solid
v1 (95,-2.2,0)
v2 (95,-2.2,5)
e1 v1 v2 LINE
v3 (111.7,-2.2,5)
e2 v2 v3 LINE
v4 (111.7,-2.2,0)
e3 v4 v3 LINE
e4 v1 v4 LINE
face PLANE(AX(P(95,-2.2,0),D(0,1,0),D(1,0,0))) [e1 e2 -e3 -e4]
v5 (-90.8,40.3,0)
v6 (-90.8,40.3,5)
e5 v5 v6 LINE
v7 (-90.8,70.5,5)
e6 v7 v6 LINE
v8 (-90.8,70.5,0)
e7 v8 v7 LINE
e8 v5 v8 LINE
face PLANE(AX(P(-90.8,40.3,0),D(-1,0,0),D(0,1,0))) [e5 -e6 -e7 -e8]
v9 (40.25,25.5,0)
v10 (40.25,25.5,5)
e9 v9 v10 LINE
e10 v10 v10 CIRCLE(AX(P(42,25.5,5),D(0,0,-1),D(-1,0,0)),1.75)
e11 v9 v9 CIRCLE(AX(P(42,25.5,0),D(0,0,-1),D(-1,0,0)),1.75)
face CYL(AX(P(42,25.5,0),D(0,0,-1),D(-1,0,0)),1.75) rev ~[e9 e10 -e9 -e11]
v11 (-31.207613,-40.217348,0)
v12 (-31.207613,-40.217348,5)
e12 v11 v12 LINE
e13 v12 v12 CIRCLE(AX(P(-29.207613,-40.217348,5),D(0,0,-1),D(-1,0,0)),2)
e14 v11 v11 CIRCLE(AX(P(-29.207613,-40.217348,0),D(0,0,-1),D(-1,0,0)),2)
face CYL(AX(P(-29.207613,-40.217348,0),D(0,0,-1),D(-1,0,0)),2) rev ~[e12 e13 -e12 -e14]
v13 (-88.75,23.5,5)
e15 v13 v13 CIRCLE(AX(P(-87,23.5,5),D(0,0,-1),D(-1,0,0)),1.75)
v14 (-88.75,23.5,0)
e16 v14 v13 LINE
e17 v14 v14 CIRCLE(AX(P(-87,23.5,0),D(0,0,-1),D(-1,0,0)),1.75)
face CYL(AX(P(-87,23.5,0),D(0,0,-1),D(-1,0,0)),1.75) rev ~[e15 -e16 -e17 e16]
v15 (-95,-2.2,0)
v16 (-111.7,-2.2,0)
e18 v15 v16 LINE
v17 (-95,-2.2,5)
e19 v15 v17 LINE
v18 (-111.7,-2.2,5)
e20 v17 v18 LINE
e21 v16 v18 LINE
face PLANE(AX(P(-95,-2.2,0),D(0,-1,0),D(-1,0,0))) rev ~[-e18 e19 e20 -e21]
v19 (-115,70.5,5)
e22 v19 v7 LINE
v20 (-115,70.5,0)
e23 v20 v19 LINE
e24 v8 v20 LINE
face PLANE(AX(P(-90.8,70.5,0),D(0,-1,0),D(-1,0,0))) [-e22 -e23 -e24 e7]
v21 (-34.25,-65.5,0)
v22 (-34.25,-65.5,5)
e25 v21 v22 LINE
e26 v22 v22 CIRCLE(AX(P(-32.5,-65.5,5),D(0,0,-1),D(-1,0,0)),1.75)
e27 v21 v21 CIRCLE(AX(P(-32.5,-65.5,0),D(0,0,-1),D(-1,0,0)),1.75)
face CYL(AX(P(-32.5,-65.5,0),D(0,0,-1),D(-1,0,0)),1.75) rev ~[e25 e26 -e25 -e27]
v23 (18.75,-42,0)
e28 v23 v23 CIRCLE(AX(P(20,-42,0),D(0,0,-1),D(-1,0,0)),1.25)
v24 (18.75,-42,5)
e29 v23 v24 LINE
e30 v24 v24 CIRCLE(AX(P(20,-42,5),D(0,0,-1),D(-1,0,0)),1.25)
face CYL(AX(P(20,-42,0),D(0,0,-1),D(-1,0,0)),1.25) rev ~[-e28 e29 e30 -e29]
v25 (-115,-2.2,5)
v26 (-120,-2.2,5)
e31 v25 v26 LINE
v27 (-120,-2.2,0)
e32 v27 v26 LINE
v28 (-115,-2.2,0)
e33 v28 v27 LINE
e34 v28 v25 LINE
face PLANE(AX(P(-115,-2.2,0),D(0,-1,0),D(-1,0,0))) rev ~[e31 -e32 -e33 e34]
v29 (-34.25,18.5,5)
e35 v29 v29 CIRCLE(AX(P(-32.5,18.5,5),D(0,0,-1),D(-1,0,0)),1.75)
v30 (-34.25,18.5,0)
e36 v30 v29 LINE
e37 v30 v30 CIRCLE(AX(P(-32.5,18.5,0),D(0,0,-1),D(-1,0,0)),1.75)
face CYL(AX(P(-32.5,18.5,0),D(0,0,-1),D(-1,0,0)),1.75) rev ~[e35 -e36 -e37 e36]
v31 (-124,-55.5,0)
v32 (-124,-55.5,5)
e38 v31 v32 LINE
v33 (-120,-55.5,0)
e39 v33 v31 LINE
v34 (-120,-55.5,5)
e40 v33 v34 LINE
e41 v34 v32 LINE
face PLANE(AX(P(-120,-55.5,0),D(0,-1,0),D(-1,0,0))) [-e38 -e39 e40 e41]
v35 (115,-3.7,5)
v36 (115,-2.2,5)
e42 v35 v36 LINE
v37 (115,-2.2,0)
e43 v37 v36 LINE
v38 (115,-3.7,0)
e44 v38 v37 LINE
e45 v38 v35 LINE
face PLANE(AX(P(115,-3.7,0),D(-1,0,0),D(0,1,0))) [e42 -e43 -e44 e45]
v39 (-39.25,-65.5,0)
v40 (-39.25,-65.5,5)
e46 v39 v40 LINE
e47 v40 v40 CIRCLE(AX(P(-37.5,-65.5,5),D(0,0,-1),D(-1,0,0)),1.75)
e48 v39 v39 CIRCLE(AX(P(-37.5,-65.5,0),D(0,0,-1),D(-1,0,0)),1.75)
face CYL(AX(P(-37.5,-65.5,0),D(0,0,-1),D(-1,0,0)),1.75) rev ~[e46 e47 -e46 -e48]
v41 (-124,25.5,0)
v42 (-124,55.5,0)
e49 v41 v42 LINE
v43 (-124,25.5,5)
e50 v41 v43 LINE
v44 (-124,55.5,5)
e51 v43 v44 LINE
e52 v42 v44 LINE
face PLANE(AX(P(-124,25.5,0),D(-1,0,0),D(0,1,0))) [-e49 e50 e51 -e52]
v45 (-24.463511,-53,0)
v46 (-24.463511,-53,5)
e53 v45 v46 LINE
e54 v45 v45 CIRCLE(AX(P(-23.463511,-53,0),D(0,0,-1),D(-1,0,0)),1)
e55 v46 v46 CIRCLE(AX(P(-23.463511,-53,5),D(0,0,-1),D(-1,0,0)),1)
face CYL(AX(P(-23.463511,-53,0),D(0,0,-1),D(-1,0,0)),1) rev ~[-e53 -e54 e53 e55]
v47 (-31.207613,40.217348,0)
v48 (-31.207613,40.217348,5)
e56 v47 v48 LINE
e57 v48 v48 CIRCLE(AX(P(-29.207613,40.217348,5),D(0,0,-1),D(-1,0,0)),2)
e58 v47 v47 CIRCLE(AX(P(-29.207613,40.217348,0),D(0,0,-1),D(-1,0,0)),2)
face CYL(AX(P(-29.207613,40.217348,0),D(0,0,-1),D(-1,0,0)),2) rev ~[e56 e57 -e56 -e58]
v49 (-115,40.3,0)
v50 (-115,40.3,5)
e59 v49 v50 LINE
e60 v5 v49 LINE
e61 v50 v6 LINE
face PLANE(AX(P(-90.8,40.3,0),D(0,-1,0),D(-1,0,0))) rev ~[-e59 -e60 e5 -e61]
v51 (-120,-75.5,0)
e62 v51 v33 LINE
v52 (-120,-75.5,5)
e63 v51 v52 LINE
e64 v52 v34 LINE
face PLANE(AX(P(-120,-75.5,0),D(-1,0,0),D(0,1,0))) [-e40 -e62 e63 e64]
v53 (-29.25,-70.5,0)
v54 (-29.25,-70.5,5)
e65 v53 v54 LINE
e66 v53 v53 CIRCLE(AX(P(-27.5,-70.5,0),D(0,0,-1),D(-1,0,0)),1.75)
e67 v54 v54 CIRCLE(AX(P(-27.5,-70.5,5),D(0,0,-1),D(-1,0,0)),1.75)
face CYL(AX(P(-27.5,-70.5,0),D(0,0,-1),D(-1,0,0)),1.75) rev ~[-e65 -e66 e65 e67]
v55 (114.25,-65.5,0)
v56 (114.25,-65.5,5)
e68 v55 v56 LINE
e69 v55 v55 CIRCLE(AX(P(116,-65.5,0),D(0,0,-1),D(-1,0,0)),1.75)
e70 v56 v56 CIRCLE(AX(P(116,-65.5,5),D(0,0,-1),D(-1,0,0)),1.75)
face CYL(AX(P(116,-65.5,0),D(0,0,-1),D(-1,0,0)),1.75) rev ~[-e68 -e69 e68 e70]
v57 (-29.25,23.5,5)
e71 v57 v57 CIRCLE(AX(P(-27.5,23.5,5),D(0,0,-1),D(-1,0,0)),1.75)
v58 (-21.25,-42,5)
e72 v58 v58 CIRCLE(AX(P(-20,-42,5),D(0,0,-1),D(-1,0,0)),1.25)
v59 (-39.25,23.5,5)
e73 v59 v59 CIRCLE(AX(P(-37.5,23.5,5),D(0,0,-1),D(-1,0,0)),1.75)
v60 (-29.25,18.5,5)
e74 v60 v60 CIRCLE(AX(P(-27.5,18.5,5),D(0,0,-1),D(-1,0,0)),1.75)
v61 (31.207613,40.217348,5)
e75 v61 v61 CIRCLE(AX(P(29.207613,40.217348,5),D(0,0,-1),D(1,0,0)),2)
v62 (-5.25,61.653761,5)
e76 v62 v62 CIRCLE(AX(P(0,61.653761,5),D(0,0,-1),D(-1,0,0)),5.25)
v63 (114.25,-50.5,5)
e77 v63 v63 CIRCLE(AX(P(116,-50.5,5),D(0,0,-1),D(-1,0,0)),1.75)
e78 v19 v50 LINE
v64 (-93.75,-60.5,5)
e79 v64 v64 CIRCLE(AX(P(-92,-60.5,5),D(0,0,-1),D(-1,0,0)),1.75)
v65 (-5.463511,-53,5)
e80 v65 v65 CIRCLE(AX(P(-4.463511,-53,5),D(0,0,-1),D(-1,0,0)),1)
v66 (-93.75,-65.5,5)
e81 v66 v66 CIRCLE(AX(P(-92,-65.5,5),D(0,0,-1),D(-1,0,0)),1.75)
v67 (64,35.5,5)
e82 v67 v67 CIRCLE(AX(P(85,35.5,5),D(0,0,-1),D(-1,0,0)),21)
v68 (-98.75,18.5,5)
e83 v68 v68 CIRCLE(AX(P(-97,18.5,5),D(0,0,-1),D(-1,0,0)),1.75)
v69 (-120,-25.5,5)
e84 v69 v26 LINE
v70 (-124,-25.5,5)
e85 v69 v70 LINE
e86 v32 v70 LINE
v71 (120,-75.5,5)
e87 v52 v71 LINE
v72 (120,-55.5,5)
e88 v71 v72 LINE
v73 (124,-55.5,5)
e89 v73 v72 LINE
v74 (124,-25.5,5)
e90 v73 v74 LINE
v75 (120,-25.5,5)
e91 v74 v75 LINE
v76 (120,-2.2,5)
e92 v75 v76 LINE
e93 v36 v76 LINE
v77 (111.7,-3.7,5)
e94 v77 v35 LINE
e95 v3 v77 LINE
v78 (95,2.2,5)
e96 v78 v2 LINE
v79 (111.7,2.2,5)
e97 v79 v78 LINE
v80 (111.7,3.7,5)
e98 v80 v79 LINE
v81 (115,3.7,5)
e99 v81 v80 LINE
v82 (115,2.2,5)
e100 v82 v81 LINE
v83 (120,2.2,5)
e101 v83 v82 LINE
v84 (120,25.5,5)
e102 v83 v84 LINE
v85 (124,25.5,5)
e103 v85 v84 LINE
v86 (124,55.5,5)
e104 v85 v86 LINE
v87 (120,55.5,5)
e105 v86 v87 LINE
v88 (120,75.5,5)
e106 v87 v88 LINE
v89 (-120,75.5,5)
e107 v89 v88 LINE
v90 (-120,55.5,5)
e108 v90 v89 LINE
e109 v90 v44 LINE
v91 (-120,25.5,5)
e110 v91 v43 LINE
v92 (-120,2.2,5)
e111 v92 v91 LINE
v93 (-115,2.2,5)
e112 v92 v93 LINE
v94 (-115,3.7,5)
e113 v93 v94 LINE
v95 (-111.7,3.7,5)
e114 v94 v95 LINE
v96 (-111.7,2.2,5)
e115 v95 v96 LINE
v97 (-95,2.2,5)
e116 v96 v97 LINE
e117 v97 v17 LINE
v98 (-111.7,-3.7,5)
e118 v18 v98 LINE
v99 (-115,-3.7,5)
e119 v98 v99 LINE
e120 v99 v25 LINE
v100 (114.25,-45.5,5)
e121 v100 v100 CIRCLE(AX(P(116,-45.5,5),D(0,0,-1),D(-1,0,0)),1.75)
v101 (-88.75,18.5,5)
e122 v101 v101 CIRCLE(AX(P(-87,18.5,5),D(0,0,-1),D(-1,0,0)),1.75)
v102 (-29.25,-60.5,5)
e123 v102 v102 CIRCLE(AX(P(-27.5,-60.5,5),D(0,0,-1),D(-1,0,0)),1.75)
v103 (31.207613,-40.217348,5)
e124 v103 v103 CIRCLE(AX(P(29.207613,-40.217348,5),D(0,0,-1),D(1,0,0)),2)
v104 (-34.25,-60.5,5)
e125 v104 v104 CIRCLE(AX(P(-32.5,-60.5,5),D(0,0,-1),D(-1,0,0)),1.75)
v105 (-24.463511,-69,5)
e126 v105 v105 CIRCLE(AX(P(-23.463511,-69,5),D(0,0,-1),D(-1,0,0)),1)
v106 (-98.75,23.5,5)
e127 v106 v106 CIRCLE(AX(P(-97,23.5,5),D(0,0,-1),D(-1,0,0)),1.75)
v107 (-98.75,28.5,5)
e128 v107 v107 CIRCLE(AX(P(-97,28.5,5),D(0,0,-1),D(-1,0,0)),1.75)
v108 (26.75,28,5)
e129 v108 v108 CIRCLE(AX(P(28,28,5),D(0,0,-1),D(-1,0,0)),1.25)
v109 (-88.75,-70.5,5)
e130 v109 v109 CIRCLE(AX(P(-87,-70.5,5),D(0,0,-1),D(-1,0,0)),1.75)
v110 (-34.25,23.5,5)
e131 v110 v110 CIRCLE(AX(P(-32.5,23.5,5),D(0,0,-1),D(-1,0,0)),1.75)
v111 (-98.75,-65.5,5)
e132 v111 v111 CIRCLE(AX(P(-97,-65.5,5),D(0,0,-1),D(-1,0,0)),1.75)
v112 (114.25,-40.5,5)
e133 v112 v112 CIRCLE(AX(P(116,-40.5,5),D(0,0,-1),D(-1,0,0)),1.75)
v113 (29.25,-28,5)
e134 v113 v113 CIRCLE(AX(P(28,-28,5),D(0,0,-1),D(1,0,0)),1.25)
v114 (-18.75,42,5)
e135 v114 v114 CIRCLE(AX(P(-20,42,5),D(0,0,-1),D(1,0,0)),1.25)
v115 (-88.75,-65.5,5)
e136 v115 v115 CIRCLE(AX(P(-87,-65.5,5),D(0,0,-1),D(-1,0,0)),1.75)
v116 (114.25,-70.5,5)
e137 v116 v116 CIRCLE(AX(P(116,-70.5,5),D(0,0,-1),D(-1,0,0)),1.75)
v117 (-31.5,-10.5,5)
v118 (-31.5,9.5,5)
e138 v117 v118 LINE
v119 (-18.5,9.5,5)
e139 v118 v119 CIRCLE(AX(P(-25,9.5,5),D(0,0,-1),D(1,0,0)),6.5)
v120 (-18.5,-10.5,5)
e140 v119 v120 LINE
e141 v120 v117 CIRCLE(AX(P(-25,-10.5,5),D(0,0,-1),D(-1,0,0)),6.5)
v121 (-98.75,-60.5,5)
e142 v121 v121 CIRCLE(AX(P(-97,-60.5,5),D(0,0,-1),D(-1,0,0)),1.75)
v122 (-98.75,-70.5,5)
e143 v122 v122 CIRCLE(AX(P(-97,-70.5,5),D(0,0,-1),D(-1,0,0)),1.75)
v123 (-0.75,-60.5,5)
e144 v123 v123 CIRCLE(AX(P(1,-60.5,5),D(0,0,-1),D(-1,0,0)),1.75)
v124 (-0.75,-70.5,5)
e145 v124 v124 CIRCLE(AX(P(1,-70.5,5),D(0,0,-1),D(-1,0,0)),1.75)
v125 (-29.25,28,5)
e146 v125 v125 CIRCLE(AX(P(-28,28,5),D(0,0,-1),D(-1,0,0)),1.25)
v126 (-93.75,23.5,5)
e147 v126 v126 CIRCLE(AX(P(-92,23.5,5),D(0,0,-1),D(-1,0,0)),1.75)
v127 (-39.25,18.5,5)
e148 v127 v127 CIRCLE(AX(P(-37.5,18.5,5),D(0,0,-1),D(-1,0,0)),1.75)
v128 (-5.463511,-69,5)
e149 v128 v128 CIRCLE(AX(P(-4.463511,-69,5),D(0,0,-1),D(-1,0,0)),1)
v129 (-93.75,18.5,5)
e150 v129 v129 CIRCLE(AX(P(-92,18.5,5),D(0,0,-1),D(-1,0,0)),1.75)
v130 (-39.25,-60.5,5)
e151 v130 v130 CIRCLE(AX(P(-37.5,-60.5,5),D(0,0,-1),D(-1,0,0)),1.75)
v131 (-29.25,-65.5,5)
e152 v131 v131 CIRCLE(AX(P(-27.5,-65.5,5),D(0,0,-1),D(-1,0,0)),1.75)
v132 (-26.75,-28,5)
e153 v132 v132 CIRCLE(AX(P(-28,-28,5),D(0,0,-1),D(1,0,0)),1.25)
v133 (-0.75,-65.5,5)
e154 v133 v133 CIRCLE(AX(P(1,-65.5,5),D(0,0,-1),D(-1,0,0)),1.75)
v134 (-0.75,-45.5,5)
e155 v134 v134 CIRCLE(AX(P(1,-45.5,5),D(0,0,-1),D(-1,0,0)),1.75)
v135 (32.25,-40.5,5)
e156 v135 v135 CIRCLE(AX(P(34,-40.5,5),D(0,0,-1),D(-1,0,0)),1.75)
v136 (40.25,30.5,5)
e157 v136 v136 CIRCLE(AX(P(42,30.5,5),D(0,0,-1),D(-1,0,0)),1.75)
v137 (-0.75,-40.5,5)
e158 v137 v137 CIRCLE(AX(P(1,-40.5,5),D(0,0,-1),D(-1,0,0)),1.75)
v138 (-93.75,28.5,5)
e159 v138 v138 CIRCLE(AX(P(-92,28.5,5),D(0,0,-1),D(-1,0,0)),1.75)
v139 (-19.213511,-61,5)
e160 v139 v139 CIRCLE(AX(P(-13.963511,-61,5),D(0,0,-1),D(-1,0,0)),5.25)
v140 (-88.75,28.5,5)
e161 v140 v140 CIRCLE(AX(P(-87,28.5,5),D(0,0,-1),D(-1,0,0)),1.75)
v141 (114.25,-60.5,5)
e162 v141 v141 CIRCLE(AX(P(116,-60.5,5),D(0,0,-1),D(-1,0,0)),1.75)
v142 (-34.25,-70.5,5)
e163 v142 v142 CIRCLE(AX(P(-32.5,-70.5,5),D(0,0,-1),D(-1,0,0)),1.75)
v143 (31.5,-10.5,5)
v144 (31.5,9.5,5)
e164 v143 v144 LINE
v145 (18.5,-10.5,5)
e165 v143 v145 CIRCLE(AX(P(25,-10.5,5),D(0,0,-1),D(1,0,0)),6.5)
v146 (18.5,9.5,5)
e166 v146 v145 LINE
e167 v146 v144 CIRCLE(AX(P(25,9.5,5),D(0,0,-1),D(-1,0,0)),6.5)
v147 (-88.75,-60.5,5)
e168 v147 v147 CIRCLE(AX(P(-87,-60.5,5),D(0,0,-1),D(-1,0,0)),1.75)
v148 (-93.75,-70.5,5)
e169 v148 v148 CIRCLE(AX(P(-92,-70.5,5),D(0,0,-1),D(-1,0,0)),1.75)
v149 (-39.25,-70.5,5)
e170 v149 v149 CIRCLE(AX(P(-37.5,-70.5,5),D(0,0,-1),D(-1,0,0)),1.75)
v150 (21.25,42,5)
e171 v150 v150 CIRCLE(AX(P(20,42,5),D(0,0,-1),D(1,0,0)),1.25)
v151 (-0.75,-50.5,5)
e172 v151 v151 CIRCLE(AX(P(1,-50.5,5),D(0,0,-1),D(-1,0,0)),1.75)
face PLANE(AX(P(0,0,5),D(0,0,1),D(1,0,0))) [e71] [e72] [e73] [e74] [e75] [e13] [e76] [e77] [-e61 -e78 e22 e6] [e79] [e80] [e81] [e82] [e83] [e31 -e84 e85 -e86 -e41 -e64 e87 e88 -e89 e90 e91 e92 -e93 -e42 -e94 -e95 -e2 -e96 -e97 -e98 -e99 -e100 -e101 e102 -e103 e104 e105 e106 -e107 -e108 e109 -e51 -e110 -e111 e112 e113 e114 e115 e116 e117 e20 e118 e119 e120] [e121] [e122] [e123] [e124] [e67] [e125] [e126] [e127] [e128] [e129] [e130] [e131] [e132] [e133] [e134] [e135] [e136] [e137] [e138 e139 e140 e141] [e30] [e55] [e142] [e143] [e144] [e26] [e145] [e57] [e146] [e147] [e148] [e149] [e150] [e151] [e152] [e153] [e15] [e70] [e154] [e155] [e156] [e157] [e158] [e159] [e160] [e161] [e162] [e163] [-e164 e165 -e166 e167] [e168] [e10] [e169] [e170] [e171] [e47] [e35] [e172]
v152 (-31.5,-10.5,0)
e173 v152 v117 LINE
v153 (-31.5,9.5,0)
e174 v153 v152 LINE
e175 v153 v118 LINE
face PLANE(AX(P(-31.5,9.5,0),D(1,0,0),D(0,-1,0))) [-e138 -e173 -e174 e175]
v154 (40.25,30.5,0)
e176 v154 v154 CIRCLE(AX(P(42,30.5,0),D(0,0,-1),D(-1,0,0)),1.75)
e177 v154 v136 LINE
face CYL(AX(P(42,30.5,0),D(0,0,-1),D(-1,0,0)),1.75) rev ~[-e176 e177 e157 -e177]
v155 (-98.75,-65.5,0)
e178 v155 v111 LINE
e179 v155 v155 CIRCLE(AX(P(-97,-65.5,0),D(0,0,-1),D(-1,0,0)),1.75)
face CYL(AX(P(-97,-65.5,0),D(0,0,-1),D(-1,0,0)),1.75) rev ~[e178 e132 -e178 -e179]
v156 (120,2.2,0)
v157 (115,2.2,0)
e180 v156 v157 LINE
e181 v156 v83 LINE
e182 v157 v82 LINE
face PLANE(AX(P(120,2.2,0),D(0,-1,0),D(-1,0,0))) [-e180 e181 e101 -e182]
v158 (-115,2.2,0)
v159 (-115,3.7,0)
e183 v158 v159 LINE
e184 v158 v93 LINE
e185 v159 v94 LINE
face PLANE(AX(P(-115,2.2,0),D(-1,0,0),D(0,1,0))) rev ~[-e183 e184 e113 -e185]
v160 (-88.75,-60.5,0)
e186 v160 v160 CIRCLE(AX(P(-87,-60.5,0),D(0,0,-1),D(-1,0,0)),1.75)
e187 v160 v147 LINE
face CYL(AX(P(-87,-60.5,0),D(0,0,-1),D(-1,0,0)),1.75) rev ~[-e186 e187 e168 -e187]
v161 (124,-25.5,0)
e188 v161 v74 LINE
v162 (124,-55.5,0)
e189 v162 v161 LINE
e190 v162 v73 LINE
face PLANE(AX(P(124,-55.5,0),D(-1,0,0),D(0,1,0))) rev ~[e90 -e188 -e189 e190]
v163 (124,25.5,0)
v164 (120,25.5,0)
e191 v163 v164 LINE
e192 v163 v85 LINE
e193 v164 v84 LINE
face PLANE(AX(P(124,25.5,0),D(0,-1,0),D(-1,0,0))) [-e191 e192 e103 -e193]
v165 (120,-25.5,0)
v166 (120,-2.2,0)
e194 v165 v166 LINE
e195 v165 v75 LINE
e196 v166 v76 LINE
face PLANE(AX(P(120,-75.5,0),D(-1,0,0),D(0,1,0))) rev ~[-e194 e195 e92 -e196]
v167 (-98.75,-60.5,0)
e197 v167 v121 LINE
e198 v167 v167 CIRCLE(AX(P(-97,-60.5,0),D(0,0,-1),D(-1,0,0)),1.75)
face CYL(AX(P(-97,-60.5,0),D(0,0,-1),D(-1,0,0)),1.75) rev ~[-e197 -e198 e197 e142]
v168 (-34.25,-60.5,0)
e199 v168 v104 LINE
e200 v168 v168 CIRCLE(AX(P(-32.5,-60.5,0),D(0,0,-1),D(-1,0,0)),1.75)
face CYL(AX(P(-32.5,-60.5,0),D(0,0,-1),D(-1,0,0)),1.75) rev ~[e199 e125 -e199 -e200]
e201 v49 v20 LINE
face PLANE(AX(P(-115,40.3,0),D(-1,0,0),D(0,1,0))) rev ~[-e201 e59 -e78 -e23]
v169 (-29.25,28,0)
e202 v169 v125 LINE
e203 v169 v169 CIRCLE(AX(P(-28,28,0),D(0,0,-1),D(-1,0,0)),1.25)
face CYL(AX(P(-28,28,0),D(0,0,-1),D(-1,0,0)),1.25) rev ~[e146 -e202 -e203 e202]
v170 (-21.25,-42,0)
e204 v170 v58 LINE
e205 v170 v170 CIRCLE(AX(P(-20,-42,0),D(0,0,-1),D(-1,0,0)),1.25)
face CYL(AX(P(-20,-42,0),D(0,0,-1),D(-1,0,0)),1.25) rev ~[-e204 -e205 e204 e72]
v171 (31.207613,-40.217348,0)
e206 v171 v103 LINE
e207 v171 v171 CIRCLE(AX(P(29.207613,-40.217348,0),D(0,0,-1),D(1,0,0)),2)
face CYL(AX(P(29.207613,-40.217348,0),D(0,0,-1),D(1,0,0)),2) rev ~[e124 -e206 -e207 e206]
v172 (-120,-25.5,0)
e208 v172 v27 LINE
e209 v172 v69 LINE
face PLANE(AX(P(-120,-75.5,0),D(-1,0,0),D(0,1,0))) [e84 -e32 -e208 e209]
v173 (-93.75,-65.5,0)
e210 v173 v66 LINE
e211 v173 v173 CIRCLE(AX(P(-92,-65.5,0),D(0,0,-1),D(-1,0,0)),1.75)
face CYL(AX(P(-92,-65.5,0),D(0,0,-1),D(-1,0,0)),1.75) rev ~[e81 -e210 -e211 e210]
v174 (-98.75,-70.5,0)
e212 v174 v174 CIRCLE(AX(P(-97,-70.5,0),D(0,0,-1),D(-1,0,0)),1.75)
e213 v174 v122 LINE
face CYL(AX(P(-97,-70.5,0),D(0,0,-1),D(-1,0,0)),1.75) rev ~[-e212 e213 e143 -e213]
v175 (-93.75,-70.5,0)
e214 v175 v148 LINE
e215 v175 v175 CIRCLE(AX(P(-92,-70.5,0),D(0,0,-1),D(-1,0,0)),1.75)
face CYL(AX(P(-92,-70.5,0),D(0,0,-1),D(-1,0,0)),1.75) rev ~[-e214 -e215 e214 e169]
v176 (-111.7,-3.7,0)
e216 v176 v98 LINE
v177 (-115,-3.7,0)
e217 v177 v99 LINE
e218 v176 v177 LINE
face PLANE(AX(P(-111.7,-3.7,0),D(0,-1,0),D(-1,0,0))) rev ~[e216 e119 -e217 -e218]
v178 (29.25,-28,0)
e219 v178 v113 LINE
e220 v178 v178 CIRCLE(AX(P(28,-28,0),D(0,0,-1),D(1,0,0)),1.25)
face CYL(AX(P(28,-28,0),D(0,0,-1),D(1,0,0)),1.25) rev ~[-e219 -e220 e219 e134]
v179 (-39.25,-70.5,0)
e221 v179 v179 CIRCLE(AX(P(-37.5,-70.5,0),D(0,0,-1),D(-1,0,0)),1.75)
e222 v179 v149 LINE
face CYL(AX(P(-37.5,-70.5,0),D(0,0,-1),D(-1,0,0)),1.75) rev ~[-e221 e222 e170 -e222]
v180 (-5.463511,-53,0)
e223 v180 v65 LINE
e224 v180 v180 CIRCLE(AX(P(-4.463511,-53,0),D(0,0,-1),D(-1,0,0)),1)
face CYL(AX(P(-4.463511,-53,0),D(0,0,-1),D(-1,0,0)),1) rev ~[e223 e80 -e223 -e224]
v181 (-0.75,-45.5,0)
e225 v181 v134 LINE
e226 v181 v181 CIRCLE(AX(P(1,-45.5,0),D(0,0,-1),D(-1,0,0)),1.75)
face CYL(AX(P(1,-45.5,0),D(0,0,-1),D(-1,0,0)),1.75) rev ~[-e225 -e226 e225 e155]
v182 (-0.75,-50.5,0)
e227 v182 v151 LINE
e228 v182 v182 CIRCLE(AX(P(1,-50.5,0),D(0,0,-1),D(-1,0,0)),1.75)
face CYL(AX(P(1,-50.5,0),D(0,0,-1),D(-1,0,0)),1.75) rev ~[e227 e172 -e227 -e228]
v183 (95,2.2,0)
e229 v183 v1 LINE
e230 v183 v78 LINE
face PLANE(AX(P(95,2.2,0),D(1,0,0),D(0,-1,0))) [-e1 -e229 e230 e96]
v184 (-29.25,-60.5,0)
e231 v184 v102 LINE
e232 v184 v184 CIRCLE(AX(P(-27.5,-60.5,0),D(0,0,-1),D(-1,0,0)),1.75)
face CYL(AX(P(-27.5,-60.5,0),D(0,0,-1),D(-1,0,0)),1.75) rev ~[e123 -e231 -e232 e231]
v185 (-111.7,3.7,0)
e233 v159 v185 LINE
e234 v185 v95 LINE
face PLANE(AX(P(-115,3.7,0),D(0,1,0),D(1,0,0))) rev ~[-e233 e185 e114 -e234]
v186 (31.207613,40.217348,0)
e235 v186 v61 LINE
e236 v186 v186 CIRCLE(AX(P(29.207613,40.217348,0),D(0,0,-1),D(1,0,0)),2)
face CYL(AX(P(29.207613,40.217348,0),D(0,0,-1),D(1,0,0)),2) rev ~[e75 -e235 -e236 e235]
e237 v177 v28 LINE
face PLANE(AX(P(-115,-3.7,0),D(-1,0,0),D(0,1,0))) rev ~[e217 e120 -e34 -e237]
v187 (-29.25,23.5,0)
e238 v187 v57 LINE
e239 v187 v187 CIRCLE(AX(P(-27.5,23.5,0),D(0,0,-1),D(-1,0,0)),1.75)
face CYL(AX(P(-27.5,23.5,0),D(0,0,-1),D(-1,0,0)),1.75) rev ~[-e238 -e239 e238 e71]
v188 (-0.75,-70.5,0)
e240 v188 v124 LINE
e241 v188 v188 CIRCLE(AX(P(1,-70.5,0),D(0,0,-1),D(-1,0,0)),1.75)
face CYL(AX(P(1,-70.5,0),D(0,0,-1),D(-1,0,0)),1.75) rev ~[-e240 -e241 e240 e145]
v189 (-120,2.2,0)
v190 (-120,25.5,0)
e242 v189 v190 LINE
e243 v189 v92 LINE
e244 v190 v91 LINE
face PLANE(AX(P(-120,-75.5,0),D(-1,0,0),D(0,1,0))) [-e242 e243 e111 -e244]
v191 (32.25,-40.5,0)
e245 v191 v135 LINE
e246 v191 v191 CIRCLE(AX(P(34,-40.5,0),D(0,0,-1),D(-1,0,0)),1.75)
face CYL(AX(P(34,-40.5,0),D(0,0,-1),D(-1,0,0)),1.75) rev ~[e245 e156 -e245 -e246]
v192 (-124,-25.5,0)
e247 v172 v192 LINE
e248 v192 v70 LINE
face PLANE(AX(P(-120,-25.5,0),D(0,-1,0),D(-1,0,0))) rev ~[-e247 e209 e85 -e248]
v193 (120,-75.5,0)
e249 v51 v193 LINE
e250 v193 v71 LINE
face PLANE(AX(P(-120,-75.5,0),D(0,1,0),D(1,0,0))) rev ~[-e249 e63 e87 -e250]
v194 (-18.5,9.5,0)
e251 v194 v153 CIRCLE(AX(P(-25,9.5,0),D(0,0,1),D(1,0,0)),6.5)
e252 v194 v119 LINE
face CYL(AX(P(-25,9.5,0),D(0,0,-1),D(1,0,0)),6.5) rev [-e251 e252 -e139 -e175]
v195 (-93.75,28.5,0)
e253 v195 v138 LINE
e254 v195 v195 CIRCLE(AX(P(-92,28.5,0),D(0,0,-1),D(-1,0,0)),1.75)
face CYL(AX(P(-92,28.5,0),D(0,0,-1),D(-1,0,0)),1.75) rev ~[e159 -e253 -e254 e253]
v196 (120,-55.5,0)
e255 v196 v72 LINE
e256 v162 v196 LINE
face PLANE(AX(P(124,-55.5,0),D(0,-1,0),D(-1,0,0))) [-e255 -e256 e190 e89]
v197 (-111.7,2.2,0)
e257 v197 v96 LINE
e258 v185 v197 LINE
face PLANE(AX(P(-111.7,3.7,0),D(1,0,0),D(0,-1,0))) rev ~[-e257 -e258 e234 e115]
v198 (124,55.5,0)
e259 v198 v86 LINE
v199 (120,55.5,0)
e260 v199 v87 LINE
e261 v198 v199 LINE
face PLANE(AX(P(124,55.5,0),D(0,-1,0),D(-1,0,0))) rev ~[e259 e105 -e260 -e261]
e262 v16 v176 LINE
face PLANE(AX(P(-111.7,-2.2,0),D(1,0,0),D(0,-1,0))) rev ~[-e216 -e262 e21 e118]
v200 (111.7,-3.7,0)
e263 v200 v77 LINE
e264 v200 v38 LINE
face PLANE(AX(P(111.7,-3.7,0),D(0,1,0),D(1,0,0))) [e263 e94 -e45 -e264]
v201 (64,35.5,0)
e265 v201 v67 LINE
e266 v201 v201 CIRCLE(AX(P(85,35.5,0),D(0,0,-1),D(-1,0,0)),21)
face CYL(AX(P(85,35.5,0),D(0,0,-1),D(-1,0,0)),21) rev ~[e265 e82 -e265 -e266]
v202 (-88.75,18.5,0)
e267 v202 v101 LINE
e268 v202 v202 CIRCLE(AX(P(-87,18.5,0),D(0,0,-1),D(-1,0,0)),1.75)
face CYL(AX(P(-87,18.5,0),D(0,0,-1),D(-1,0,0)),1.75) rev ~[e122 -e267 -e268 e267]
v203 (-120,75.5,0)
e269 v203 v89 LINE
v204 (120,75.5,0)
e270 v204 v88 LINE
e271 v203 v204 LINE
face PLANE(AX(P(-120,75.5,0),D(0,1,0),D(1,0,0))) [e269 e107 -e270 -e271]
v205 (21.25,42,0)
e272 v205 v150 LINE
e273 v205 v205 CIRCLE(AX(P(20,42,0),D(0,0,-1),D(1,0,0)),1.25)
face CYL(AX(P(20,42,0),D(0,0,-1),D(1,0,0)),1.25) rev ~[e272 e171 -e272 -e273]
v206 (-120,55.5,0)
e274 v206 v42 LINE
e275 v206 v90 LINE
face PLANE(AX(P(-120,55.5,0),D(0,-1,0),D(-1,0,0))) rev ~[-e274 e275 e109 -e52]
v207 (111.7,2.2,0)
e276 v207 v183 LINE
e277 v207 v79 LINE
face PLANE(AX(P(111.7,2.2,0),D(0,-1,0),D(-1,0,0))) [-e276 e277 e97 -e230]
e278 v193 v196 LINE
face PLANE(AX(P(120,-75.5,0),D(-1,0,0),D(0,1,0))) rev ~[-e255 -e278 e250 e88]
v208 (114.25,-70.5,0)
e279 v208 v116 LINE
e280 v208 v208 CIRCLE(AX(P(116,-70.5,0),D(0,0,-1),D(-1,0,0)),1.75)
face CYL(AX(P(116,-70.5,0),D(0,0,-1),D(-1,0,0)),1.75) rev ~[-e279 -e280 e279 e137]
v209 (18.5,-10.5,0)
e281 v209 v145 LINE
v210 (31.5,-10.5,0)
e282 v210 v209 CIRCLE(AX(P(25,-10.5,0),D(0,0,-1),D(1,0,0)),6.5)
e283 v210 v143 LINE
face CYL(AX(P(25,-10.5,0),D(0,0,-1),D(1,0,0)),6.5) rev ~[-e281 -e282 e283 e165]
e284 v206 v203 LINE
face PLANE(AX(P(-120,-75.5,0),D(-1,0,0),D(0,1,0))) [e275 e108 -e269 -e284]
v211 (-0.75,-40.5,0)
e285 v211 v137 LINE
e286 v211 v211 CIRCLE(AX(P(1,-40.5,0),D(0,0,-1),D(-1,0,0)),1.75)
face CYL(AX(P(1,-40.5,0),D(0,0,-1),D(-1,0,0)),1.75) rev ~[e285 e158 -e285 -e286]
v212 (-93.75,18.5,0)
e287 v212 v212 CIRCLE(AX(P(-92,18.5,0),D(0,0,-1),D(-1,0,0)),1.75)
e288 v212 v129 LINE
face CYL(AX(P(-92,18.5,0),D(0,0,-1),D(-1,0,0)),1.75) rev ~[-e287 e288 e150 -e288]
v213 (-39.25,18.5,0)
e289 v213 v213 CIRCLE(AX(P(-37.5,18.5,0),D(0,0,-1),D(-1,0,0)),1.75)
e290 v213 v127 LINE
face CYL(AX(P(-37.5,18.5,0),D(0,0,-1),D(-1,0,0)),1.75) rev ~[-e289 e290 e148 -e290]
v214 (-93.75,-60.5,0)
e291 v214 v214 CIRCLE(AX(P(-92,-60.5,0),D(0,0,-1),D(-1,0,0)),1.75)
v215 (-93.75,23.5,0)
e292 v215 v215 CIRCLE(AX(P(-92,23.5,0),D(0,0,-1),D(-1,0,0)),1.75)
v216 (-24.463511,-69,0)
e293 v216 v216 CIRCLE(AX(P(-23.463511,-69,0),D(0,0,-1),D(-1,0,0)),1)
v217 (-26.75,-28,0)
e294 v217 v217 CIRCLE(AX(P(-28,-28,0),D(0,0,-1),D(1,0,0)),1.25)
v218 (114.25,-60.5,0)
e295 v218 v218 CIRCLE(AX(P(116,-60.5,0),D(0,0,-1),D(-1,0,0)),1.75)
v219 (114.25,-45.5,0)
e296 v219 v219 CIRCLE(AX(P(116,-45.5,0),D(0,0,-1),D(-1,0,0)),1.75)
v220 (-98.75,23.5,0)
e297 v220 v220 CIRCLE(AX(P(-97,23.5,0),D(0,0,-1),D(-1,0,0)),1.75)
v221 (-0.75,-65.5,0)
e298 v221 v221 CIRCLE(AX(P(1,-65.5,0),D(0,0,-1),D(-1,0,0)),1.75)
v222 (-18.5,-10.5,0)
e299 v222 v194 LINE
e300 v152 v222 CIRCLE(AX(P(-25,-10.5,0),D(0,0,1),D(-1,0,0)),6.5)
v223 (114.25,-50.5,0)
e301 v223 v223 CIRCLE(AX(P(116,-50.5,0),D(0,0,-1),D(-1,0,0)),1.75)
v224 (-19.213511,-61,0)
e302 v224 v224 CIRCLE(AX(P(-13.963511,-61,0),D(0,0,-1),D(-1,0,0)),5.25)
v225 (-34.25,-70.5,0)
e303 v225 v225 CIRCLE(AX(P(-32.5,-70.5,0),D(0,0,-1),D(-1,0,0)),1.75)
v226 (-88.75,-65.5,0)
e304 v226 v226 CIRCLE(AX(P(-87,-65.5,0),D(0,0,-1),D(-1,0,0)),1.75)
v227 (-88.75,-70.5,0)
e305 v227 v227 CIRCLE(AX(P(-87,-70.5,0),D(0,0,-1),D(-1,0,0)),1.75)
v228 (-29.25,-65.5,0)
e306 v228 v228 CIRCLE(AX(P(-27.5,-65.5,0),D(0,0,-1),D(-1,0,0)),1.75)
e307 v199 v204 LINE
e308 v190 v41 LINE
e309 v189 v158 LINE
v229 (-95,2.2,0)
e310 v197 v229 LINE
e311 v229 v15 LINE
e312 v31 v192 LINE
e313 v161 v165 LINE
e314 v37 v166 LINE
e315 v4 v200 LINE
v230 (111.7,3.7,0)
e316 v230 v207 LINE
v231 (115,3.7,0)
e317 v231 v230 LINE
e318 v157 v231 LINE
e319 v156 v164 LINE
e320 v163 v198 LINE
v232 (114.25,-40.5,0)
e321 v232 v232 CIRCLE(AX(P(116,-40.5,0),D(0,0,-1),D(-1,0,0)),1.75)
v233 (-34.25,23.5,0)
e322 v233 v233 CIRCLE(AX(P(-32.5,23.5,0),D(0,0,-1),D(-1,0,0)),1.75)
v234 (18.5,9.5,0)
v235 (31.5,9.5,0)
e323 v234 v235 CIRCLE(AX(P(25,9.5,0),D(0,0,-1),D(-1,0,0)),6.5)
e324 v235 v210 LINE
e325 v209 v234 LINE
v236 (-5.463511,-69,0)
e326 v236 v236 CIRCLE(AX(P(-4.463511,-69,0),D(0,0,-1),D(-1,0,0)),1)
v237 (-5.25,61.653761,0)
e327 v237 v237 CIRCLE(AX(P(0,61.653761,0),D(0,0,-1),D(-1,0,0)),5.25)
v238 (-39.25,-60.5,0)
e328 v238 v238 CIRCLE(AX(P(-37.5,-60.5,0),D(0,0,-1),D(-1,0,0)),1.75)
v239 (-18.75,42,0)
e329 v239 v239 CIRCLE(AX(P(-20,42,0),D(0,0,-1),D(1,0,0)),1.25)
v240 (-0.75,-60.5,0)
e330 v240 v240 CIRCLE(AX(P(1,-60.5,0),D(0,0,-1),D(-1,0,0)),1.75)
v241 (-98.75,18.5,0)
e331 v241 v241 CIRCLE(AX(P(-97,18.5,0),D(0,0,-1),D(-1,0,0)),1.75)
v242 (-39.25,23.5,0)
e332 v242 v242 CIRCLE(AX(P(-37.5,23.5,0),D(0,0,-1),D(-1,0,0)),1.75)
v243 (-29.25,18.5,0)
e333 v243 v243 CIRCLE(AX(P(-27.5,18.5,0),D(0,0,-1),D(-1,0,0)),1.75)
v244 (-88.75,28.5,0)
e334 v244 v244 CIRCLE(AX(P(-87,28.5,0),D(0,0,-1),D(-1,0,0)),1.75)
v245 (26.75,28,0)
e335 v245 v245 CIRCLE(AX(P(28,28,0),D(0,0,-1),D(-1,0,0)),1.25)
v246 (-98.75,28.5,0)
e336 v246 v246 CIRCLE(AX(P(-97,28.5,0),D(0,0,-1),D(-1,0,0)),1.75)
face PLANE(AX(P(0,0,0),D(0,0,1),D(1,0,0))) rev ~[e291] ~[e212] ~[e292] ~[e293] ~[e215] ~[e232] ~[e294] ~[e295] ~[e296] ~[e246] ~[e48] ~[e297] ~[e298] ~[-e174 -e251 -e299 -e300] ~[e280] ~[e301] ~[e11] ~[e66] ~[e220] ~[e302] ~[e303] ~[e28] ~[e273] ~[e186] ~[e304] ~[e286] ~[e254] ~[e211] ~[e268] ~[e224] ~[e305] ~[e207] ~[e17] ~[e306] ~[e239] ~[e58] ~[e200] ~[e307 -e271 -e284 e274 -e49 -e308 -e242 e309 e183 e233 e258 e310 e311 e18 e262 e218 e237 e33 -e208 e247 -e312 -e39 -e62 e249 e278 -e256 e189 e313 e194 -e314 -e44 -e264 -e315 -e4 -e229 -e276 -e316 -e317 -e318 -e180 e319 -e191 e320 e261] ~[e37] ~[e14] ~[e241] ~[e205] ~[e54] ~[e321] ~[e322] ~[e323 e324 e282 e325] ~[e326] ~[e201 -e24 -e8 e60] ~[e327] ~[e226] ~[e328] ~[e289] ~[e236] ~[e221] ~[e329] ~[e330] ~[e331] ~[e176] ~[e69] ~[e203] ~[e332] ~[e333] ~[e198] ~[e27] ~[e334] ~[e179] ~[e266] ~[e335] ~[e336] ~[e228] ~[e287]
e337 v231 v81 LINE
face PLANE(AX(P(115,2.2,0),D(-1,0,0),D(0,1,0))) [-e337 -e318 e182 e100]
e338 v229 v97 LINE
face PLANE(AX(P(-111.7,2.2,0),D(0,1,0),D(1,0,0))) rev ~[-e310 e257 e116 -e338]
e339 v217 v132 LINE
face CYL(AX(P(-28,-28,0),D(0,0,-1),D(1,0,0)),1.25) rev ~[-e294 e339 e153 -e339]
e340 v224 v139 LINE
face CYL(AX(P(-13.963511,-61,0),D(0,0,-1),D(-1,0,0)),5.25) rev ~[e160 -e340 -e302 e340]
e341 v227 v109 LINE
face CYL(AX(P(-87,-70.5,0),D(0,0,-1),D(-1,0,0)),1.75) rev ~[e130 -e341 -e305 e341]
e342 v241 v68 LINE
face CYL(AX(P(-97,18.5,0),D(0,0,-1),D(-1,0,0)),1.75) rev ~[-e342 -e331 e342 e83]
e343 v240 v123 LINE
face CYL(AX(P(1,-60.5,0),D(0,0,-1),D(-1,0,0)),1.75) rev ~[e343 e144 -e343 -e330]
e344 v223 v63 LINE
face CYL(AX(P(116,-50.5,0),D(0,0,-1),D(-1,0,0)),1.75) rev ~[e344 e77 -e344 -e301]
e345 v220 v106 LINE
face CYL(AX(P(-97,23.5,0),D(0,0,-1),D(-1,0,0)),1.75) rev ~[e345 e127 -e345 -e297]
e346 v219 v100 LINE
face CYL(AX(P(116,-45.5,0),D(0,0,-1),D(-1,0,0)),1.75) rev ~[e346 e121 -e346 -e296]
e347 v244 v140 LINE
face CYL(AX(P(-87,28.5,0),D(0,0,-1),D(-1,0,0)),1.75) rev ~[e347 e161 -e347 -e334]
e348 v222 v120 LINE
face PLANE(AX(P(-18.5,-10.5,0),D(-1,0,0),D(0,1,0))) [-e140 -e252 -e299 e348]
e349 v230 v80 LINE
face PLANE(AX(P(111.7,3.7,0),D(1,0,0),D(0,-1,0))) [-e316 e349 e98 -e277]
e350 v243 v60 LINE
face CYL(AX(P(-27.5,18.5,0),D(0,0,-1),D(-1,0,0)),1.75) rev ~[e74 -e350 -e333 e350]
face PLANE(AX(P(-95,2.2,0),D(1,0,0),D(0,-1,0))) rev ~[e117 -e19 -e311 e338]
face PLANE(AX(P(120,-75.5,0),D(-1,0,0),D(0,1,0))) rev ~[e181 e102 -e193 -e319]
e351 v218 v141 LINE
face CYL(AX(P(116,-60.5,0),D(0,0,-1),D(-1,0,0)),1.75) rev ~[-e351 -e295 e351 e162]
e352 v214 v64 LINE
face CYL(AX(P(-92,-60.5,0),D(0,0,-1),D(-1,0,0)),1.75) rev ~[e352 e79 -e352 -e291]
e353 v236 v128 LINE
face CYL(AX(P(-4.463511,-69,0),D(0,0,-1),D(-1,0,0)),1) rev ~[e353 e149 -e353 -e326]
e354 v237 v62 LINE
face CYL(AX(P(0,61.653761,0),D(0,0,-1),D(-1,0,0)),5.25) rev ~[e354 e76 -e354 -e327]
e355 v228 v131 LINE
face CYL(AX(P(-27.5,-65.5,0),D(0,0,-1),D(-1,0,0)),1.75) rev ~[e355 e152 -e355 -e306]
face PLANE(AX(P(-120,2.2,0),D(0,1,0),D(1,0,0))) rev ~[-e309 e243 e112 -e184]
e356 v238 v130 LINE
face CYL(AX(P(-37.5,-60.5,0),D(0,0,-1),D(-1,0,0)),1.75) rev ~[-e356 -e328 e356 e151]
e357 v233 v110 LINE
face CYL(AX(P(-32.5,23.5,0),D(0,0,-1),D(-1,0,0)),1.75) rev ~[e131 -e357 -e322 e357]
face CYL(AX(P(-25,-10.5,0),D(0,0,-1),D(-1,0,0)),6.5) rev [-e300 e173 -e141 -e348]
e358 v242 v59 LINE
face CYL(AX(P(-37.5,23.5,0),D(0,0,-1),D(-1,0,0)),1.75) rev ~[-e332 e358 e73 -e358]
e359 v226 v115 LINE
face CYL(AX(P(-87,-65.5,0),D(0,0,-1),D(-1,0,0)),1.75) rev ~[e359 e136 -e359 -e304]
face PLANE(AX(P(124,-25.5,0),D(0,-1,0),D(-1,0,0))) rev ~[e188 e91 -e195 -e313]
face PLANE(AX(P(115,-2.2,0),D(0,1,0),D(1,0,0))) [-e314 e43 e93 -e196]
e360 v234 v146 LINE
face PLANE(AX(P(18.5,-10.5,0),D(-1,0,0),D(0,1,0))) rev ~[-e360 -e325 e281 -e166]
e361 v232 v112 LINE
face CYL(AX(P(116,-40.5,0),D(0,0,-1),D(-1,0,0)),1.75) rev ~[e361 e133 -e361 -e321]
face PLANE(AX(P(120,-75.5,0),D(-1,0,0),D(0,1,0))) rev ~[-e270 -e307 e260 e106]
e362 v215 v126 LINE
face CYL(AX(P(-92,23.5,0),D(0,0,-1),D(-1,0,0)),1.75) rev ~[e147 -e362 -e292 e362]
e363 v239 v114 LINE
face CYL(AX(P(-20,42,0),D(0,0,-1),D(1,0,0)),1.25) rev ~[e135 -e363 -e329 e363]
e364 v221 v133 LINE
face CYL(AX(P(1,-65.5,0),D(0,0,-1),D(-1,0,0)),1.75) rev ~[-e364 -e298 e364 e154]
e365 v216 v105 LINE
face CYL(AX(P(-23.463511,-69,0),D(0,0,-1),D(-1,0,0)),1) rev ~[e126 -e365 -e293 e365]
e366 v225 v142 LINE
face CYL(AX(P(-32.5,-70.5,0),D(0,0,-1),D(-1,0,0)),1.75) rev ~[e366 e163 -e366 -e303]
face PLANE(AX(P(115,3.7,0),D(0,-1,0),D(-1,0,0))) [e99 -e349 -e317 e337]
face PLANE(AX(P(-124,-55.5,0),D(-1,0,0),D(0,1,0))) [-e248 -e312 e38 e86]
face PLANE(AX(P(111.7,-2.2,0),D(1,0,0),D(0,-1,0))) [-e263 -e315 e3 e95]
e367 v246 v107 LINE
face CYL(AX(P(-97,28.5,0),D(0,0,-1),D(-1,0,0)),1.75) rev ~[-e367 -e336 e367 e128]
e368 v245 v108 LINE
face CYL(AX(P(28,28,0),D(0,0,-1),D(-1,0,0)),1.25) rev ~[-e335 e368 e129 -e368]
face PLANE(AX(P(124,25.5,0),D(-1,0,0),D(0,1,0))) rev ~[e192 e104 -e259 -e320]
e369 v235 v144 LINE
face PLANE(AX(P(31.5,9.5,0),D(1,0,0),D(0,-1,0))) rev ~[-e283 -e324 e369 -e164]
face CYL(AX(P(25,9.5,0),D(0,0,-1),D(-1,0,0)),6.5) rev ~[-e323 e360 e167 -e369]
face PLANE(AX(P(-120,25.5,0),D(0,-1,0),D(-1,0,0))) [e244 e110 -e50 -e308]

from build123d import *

# Parameters (mm, degrees)
SKETCH1_W           = 240
SKETCH1_H           = 151
BOSS_EXTRUDE1_DEPTH = 5
SKETCH2_R           = 1.25
CUT_EXTRUDE1_DEPTH  = 5
CUT_EXTRUDE2_DEPTH  = 10
SKETCH7_R           = 2
CUT_EXTRUDE4_DEPTH  = 10
SKETCH9_W           = 4
SKETCH9_H           = 30
BOSS_EXTRUDE2_DEPTH = 5
CUT_EXTRUDE6_DEPTH  = 5
SKETCH13_R          = 21
CUT_EXTRUDE9_DEPTH  = 10
SKETCH15_R          = 1.75
CUT_EXTRUDE11_DEPTH = 10
SKETCH16_R          = 1.75
CUT_EXTRUDE12_DEPTH = 10
SKETCH17_R          = 1.75
CUT_EXTRUDE13_DEPTH = 10
SKETCH20_W          = 24.2
SKETCH20_H          = 30.2
CUT_EXTRUDE14_DEPTH = 10
SKETCH21_R          = 5.25
CUT_EXTRUDE15_DEPTH = 5
SKETCH22_R          = 1
CUT_EXTRUDE16_DEPTH = 5
SKETCH23_R          = 5.25
CUT_EXTRUDE17_DEPTH = 10


with BuildPart() as part:
    # Sketch1 → Boss-Extrude1 (new body)
    with BuildSketch(Plane.XY):
        Rectangle(SKETCH1_W, SKETCH1_H)
    extrude(amount=BOSS_EXTRUDE1_DEPTH)

    # Sketch2 → Cut-Extrude1 (cut)
    with BuildSketch(Plane(origin=(0, 0, 0), x_dir=(-1, 0, 0), z_dir=(0, 0, -1))):
        with Locations(Location((-20, 42, 0), (0, 0, 180))):
            Circle(SKETCH2_R)
        with Locations((28, 28)):
            Circle(SKETCH2_R)
        with Locations(Location((20, 42, 0), (0, 0, 180))):
            Circle(SKETCH2_R)
        with Locations((-28, 28)):
            Circle(SKETCH2_R)
        with Locations(Location((-28, -28, 0), (0, 0, 180))):
            Circle(SKETCH2_R)
        with Locations((20, -42)):
            Circle(SKETCH2_R)
        with Locations(Location((28, -28, 0), (0, 0, 180))):
            Circle(SKETCH2_R)
        with Locations((-20, -42)):
            Circle(SKETCH2_R)
    extrude(amount=-CUT_EXTRUDE1_DEPTH, mode=Mode.SUBTRACT)

    # Sketch5 → Cut-Extrude2 (cut)
    with BuildSketch(Plane(origin=(0, 0, 0), x_dir=(-1, 0, 0), z_dir=(0, 0, -1))):
        with BuildLine():
            Line((18.5, -10.5), (18.5, 9.5))
            ThreePointArc((18.5, 9.5), (25, 16), (31.5, 9.5))
            Line((31.5, 9.5), (31.5, -10.5))
            ThreePointArc((31.5, -10.5), (25, -17), (18.5, -10.5))
        make_face()
        with BuildLine():
            Line((-18.5, -10.5), (-18.5, 9.5))
            ThreePointArc((-18.5, 9.5), (-25, 16), (-31.5, 9.5))
            Line((-31.5, 9.5), (-31.5, -10.5))
            ThreePointArc((-31.5, -10.5), (-25, -17), (-18.5, -10.5))
        make_face()
    extrude(amount=-CUT_EXTRUDE2_DEPTH, mode=Mode.SUBTRACT)

    # Sketch7 → Cut-Extrude4 (cut)
    with BuildSketch(Plane(origin=(0, 0, 0), x_dir=(-1, 0, 0), z_dir=(0, 0, -1))):
        with Locations((29.207613065, 40.217347852)):
            Circle(SKETCH7_R)
        with Locations((29.207613065, -40.217347852)):
            Circle(SKETCH7_R)
        with Locations(Location((-29.207613065, -40.217347852, 0), (0, 0, 180))):
            Circle(SKETCH7_R)
        with Locations(Location((-29.207613065, 40.217347852, 0), (0, 0, 180))):
            Circle(SKETCH7_R)
    extrude(amount=-CUT_EXTRUDE4_DEPTH, mode=Mode.SUBTRACT)

    # Sketch9 → Boss-Extrude2 (add)
    with BuildSketch(Plane(origin=(0, 0, 0), x_dir=(-1, 0, 0), z_dir=(0, 0, -1))):
        with Locations((122, 40.5)):
            Rectangle(SKETCH9_W, SKETCH9_H)
        with Locations((122, -40.5)):
            Rectangle(SKETCH9_W, SKETCH9_H)
        with Locations((-122, -40.5)):
            Rectangle(SKETCH9_W, SKETCH9_H)
        with Locations((-122, 40.5)):
            Rectangle(SKETCH9_W, SKETCH9_H)
    extrude(amount=-BOSS_EXTRUDE2_DEPTH)

    # Sketch10 → Cut-Extrude6 (cut)
    with BuildSketch(Plane(origin=(0, 0, 0), x_dir=(-1, 0, 0), z_dir=(0, 0, -1))):
        Polygon((-120, 2.2), (-115, 2.2), (-115, 3.7), (-111.7, 3.7), (-111.7, 2.2), (-95, 2.2), (-95, -2.2), (-111.7, -2.2), (-111.7, -3.7), (-115, -3.7), (-115, -2.2), (-120, -2.2), align=None)
        Polygon((115, -2.2), (120, -2.2), (120, 2.2), (115, 2.2), (115, 3.7), (111.7, 3.7), (111.7, 2.2), (95, 2.2), (95, -2.2), (111.7, -2.2), (111.7, -3.7), (115, -3.7), align=None)
    extrude(amount=-CUT_EXTRUDE6_DEPTH, mode=Mode.SUBTRACT)

    # Sketch13 → Cut-Extrude9 (cut)
    with BuildSketch(Plane(origin=(0, 0, 0), x_dir=(-1, 0, 0), z_dir=(0, 0, -1))):
        with Locations((-85, 35.5)):
            Circle(SKETCH13_R)
    extrude(amount=-CUT_EXTRUDE9_DEPTH, mode=Mode.SUBTRACT)

    # Sketch15 → Cut-Extrude11 (cut)
    with BuildSketch(Plane(origin=(0, 0, 0), x_dir=(-1, 0, 0), z_dir=(0, 0, -1))):
        with Locations((-34, -40.5)):
            Circle(SKETCH15_R)
    extrude(amount=-CUT_EXTRUDE11_DEPTH, mode=Mode.SUBTRACT)

    # Sketch16 → Cut-Extrude12 (cut)
    with BuildSketch(Plane(origin=(0, 0, 0), x_dir=(-1, 0, 0), z_dir=(0, 0, -1))):
        with Locations((-42, 25.5)):
            Circle(SKETCH16_R)
        with Locations((87, -70.5)):
            Circle(SKETCH16_R)
        with Locations((27.5, -70.5)):
            Circle(SKETCH16_R)
        with Locations((87, 18.5)):
            Circle(SKETCH16_R)
        with Locations((27.5, 18.5)):
            Circle(SKETCH16_R)
        with Locations((-42, 30.5)):
            Circle(SKETCH16_R)
        with Locations((27.5, 23.5)):
            Circle(SKETCH16_R)
        with Locations((87, -65.5)):
            Circle(SKETCH16_R)
        with Locations((87, 23.5)):
            Circle(SKETCH16_R)
        with Locations((27.5, -65.5)):
            Circle(SKETCH16_R)
        with Locations((87, -60.5)):
            Circle(SKETCH16_R)
        with Locations((87, 28.5)):
            Circle(SKETCH16_R)
        with Locations((27.5, -60.5)):
            Circle(SKETCH16_R)
        with Locations((32.5, -70.5)):
            Circle(SKETCH16_R)
        with Locations((92, -70.5)):
            Circle(SKETCH16_R)
        with Locations((32.5, -65.5)):
            Circle(SKETCH16_R)
        with Locations((32.5, -60.5)):
            Circle(SKETCH16_R)
        with Locations((92, -65.5)):
            Circle(SKETCH16_R)
        with Locations((92, -60.5)):
            Circle(SKETCH16_R)
        with Locations((32.5, 18.5)):
            Circle(SKETCH16_R)
        with Locations((32.5, 23.5)):
            Circle(SKETCH16_R)
        with Locations((92, 23.5)):
            Circle(SKETCH16_R)
        with Locations((92, 18.5)):
            Circle(SKETCH16_R)
        with Locations((92, 28.5)):
            Circle(SKETCH16_R)
        with Locations((37.5, -70.5)):
            Circle(SKETCH16_R)
        with Locations((97, -70.5)):
            Circle(SKETCH16_R)
        with Locations((37.5, -65.5)):
            Circle(SKETCH16_R)
        with Locations((37.5, -60.5)):
            Circle(SKETCH16_R)
        with Locations((97, -65.5)):
            Circle(SKETCH16_R)
        with Locations((97, -60.5)):
            Circle(SKETCH16_R)
        with Locations((37.5, 18.5)):
            Circle(SKETCH16_R)
        with Locations((37.5, 23.5)):
            Circle(SKETCH16_R)
        with Locations((97, 23.5)):
            Circle(SKETCH16_R)
        with Locations((97, 18.5)):
            Circle(SKETCH16_R)
        with Locations((97, 28.5)):
            Circle(SKETCH16_R)
    extrude(amount=-CUT_EXTRUDE12_DEPTH, mode=Mode.SUBTRACT)

    # Sketch17 → Cut-Extrude13 (cut)
    with BuildSketch(Plane(origin=(0, 0, 0), x_dir=(-1, 0, 0), z_dir=(0, 0, -1))):
        with Locations((-116, -70.5)):
            Circle(SKETCH17_R)
        with Locations((-116, -50.5)):
            Circle(SKETCH17_R)
        with Locations((-1, -50.5)):
            Circle(SKETCH17_R)
        with Locations((-1, -70.5)):
            Circle(SKETCH17_R)
        with Locations((-116, -45.5)):
            Circle(SKETCH17_R)
        with Locations((-116, -65.5)):
            Circle(SKETCH17_R)
        with Locations((-1, -45.5)):
            Circle(SKETCH17_R)
        with Locations((-1, -65.5)):
            Circle(SKETCH17_R)
        with Locations((-116, -40.5)):
            Circle(SKETCH17_R)
        with Locations((-116, -60.5)):
            Circle(SKETCH17_R)
        with Locations((-1, -40.5)):
            Circle(SKETCH17_R)
        with Locations((-1, -60.5)):
            Circle(SKETCH17_R)
    extrude(amount=-CUT_EXTRUDE13_DEPTH, mode=Mode.SUBTRACT)

    # Sketch20 → Cut-Extrude14 (cut)
    with BuildSketch(Plane(origin=(0, 0, 0), x_dir=(-1, 0, 0), z_dir=(0, 0, -1))):
        with Locations((102.9, 55.4)):
            Rectangle(SKETCH20_W, SKETCH20_H)
    extrude(amount=-CUT_EXTRUDE14_DEPTH, mode=Mode.SUBTRACT)

    # Sketch21 → Cut-Extrude15 (cut)
    with BuildSketch(Plane(origin=(0, 0, 0), x_dir=(-1, 0, 0), z_dir=(0, 0, -1))):
        with Locations((13.963511127, -61)):
            Circle(SKETCH21_R)
    extrude(amount=-CUT_EXTRUDE15_DEPTH, mode=Mode.SUBTRACT)

    # Sketch22 → Cut-Extrude16 (cut)
    with BuildSketch(Plane(origin=(0, 0, 0), x_dir=(-1, 0, 0), z_dir=(0, 0, -1))):
        with Locations((23.463511127, -53)):
            Circle(SKETCH22_R)
        with Locations((23.463511127, -69)):
            Circle(SKETCH22_R)
        with Locations((4.463511127, -53)):
            Circle(SKETCH22_R)
        with Locations((4.463511127, -69)):
            Circle(SKETCH22_R)
    extrude(amount=-CUT_EXTRUDE16_DEPTH, mode=Mode.SUBTRACT)

    # Sketch23 → Cut-Extrude17 (cut)
    with BuildSketch(Plane(origin=(0, 0, 0), x_dir=(-1, 0, 0), z_dir=(0, 0, -1))):
        with Locations((0, 61.653760848)):
            Circle(SKETCH23_R)
    extrude(amount=-CUT_EXTRUDE17_DEPTH, mode=Mode.SUBTRACT)


solid = part.part
